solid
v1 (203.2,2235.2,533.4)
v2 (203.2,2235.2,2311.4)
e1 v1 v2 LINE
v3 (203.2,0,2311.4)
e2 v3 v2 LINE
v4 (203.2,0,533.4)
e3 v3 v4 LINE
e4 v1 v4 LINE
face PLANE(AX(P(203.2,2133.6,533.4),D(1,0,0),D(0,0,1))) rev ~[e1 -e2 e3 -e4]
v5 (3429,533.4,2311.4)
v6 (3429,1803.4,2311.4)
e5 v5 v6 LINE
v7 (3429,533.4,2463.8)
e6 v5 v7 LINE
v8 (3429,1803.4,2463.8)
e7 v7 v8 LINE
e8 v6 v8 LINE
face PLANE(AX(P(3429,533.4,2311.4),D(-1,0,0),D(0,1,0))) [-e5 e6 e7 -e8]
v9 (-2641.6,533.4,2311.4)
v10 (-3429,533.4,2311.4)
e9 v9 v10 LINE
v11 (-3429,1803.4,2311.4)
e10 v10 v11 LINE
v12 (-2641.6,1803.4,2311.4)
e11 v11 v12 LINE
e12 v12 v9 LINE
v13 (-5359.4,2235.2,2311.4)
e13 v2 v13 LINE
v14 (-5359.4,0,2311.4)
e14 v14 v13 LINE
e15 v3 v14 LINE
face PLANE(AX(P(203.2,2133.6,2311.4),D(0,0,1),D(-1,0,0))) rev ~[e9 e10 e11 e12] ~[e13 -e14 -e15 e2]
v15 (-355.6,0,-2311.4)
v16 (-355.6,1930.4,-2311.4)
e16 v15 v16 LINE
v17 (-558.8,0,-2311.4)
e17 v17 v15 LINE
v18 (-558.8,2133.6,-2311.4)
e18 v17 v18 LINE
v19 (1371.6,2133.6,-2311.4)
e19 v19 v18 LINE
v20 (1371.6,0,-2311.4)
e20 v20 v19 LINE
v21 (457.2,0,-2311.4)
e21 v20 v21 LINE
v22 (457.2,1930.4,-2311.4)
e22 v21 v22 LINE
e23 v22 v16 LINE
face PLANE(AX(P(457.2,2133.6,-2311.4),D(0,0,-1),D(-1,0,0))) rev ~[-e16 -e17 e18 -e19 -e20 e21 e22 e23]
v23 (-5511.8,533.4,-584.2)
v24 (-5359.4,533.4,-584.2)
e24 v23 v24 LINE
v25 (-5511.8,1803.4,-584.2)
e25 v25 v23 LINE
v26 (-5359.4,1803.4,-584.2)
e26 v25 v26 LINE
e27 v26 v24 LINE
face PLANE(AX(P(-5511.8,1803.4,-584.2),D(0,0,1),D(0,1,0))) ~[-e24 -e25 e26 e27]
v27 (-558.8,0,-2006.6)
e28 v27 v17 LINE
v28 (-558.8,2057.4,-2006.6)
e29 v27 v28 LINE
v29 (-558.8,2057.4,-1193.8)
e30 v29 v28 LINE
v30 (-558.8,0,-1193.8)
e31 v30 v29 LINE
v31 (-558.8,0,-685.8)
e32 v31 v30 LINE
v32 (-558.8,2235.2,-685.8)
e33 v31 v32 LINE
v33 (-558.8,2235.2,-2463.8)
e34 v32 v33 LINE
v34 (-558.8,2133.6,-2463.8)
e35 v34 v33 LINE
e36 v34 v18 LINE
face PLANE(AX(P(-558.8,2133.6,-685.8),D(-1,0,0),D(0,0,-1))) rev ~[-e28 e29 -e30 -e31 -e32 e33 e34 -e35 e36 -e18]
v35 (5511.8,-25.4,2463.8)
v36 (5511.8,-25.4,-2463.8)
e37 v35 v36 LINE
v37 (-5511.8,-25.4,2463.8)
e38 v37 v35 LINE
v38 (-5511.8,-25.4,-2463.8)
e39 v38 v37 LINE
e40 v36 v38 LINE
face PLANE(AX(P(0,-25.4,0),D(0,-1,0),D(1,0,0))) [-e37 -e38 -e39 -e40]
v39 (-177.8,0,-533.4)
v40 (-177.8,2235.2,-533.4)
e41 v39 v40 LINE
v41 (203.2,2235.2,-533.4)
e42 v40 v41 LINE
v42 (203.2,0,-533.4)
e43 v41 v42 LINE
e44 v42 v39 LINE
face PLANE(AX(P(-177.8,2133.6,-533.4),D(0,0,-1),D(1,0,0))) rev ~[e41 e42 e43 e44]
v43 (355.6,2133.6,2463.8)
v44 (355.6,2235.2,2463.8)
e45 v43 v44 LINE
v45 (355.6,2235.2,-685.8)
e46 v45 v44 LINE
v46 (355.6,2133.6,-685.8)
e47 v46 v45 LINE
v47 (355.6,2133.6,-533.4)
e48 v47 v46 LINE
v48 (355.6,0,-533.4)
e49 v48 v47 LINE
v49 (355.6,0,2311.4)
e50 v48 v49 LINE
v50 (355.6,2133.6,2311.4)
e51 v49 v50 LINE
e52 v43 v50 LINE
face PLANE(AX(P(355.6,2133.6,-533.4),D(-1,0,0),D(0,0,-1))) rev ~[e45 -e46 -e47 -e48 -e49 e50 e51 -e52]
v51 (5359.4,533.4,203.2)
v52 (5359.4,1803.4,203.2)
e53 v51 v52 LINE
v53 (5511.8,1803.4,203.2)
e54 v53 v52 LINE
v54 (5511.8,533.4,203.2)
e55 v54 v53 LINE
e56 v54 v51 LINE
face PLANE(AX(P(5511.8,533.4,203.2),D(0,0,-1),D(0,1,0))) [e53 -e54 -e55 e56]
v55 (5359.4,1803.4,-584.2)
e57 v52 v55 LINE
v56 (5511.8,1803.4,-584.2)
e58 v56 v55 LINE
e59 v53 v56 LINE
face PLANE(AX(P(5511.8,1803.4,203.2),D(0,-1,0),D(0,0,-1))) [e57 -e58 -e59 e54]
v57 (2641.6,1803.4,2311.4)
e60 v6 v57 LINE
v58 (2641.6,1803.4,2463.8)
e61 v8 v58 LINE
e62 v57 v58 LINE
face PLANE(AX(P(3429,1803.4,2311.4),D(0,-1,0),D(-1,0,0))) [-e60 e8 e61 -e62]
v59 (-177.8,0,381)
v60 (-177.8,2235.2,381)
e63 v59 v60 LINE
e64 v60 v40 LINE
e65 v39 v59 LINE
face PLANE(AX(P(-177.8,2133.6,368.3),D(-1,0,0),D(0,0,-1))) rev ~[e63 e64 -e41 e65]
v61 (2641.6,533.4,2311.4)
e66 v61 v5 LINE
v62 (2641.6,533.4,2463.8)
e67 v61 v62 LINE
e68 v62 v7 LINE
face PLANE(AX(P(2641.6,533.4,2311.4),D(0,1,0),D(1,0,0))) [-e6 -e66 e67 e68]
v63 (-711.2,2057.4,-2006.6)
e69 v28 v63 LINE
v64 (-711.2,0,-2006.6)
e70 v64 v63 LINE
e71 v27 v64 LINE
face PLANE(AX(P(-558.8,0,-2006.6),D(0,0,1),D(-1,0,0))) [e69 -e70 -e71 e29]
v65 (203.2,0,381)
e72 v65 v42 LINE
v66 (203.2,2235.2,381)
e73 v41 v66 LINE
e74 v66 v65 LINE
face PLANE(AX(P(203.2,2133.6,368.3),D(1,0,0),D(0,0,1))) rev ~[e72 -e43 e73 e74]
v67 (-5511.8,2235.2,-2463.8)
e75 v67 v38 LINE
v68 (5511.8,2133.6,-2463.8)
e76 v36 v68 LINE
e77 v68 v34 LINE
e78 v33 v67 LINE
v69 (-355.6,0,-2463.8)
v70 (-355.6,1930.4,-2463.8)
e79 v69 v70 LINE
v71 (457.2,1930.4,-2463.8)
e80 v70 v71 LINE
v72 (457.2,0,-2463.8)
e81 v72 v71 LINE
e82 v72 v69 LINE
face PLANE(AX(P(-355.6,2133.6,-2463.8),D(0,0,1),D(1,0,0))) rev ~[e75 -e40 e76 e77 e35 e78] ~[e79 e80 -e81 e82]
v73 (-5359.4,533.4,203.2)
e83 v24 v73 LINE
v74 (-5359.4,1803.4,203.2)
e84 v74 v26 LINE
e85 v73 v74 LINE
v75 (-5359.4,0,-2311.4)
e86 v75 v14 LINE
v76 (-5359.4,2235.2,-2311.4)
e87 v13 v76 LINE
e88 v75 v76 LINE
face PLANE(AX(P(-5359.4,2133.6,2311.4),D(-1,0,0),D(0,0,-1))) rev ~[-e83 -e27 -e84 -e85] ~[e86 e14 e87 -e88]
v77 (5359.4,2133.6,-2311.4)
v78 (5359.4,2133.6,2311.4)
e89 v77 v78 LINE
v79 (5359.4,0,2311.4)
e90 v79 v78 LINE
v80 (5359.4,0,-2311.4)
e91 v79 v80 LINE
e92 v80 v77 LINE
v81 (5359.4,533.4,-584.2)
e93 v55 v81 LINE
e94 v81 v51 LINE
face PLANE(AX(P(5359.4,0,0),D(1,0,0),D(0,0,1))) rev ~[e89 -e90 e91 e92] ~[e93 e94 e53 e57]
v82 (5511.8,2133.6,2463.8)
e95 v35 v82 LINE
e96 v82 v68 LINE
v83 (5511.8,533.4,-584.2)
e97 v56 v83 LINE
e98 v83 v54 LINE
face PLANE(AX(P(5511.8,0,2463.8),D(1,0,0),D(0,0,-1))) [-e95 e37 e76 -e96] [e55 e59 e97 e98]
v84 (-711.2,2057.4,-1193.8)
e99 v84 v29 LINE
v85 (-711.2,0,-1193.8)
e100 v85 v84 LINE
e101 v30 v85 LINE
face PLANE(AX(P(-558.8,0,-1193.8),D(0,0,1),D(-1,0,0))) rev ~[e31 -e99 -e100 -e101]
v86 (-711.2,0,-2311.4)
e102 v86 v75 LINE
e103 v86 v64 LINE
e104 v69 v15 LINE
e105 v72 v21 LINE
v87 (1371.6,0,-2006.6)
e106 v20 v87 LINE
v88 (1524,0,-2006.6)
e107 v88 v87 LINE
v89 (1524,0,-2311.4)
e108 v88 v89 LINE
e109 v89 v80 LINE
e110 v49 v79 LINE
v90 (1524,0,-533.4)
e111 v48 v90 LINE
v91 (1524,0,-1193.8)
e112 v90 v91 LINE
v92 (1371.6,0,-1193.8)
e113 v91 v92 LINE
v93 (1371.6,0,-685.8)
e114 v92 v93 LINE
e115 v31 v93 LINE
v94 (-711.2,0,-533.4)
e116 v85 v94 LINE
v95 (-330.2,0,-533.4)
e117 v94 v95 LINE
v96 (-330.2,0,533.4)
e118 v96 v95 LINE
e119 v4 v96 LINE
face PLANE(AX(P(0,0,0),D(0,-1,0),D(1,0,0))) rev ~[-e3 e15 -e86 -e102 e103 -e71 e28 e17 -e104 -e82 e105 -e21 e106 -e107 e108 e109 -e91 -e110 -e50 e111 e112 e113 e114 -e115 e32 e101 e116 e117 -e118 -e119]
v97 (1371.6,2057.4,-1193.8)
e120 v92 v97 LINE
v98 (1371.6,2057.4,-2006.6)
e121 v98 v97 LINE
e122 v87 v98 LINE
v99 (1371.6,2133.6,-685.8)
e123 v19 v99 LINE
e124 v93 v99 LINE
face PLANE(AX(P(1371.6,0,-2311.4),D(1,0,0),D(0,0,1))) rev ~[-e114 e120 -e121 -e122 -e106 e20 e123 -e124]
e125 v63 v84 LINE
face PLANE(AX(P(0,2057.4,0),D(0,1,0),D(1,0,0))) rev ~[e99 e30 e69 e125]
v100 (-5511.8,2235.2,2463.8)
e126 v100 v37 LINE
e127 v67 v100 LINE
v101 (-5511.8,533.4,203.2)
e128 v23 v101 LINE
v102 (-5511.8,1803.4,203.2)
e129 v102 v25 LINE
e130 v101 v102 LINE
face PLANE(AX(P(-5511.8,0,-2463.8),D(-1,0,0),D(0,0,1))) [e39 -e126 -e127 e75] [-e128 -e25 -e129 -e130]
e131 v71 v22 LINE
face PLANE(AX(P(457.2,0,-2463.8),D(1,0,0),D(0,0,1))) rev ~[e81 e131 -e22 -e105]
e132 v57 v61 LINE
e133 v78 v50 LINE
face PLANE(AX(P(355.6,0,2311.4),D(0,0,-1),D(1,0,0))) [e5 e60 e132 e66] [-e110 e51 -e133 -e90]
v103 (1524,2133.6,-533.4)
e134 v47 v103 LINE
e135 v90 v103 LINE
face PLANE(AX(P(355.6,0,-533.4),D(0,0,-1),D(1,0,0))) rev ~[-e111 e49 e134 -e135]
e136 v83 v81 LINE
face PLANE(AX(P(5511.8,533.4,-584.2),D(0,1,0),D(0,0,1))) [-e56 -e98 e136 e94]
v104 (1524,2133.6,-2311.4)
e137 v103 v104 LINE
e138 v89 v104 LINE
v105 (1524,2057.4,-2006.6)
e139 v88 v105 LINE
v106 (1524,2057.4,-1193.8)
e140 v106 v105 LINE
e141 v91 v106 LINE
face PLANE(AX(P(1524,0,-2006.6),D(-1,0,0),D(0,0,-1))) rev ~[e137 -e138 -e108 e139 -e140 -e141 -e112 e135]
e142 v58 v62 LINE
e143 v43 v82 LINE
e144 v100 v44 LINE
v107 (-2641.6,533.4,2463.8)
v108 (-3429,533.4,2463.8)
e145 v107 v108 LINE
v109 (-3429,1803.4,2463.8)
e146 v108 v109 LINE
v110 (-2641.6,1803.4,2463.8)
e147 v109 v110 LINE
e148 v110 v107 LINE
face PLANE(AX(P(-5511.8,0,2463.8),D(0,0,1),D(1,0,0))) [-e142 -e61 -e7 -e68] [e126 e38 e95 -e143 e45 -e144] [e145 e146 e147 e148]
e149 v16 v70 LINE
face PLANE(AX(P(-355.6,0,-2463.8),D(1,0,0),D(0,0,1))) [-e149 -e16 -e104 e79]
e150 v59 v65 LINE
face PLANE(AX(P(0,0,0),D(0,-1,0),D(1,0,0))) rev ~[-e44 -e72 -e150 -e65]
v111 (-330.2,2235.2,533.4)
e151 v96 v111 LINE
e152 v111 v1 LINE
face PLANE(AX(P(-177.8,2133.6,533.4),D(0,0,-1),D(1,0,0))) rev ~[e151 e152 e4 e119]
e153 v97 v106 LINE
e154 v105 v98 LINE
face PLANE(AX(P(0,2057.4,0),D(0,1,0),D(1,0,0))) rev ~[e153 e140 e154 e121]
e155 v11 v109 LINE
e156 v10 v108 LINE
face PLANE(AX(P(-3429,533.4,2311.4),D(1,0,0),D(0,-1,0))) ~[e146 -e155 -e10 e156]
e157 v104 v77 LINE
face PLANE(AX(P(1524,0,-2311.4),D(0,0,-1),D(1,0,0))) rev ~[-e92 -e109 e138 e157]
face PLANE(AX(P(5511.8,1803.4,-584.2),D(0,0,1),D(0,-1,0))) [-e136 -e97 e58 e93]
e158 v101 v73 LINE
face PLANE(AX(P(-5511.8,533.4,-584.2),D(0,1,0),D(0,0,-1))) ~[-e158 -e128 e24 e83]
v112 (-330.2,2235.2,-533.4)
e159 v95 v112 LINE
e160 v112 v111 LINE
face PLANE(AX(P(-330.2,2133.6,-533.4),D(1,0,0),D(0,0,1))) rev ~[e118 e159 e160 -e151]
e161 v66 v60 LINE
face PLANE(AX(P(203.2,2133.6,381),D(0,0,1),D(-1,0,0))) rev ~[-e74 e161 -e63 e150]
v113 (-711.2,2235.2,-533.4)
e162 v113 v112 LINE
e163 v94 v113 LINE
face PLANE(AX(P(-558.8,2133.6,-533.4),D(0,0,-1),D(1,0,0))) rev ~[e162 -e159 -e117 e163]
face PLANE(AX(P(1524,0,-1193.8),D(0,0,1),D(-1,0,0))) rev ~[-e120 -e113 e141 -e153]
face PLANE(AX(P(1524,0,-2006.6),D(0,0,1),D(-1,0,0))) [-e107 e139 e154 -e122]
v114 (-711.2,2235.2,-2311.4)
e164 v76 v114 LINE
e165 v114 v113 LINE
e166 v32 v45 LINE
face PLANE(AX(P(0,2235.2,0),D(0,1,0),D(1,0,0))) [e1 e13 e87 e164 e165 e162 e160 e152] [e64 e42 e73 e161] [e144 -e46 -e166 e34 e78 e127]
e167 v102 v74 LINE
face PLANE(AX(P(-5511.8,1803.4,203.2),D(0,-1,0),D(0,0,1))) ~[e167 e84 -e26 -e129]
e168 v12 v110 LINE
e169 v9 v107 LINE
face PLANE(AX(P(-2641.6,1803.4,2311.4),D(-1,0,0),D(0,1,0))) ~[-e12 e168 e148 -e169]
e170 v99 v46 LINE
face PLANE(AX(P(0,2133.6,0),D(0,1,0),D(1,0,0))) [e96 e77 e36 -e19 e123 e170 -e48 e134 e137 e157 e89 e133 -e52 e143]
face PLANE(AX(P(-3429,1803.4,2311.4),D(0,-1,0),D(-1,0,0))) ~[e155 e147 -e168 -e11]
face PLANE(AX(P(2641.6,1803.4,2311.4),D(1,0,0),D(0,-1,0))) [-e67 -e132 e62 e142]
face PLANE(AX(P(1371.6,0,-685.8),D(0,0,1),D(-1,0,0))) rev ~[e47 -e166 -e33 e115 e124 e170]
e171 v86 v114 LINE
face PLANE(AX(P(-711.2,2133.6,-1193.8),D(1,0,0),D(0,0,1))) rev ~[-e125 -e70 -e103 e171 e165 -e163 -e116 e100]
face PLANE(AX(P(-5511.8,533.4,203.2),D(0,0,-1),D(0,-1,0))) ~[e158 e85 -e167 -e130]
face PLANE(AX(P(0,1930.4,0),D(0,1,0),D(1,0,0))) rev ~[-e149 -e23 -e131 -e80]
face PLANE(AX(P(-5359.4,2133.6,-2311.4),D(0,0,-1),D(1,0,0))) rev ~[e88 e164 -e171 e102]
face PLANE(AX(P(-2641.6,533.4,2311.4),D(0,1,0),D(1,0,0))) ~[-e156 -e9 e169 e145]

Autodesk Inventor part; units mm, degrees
ref_plane "YZ Plane" through (0, 0, 0) normal (1, 0, 0) x (0, 1, 0)
ref_plane "XZ Plane" through (0, 0, 0) normal (0, 1, 0) x (-1, 0, 0)
ref_plane "XY Plane" through (0, 0, 0) normal (0, 0, 1) x (1, 0, 0)
sketch "Sketch1" plane through (0, 0, 0) normal (0, 1, 0) x (-1, 0, 0)
  line L0 (2008.4767, 2311.4) -> (5359.4, 2311.4)
  line L1 (-5511.8, 2463.8) -> (1195.6767, 2463.8)
  line L2 (2008.4767, 2463.8) -> (5511.8, 2463.8)
  line L3 (5359.4, 2311.4) -> (5359.4, -2311.4)
  line L4 (128.8767, 2311.4) -> (1195.6767, 2311.4)
  line L5 (2008.4767, 2311.4) -> (5359.4, 2311.4)
  line L6 (-5359.4, 2311.4) -> (-1041.4, 2311.4)
  line L7 (-5359.4, -2311.4) -> (-5359.4, 2311.4)
  line L8 (-988.7233, -2463.8) -> (-5306.7233, -2463.8)
  line L9 (5359.4, -2311.4) -> (1955.8, -2311.4)
  line L10 (355.6, -2463.8) -> (1143, -2463.8)
  line L11 (1955.8, -2463.8) -> (5359.4, -2463.8)
  line L12 (5359.4, 2311.4) -> (5359.4, -2311.4)
  line L13 (-5359.4, -2311.4) -> (-5359.4, 2311.4)
  line L14 (128.8767, 2311.4) -> (1195.6767, 2311.4)
  line L15 (-5359.4, 2311.4) -> (-1041.4, 2311.4)
  line L16 (1955.8, -2311.4) -> (5359.4, -2311.4)
  line L17 (5359.4, -2311.4) -> (5359.4, 2311.4)
  line L18 (5359.4, 2311.4) -> (2008.4767, 2311.4)
  line L19 (2008.4767, 2463.8) -> (5511.8, 2463.8)
  line L20 (-457.2, -2463.8) -> (-457.2, -2311.4)
  line L21 (355.6, -2463.8) -> (355.6, -2311.4)
  line L22 (-7716.52, 0) -> (7716.52, 0) projected
  line L23 (-5511.8, 2463.8) -> (-5511.8, -2463.8)
  line L24 (-5306.7233, -2463.8) -> (-5511.8, -2463.8)
  line L25 (5511.8, 2463.8) -> (5511.8, -2463.8)
  line L26 (5511.8, -2463.8) -> (5359.4, -2463.8)
  line L27 (-988.7233, -2463.8) -> (-457.2, -2463.8)
  line L28 (-1371.6, -685.8) -> (558.8, -685.8)
  line L29 (558.8, -2311.4) -> (355.6, -2311.4)
  line L30 (-457.2, -2311.4) -> (-1371.6, -2311.4)
  line L31 (-1371.6, -2311.4) -> (-457.2, -2311.4)
  line L32 (355.6, -2311.4) -> (558.8, -2311.4)
  line L33 (-355.6, -533.4) -> (-355.6, 2311.4)
  line L34 (1143, -2311.4) -> (1955.8, -2311.4)
  line L35 (1955.8, -2463.8) -> (1143, -2463.8)
  line L36 (0, -3449.32) -> (0, 3449.32) projected
  line L37 (1195.6767, 2463.8) -> (2008.4767, 2463.8)
  line L38 (2008.4767, 2311.4) -> (1195.6767, 2311.4)
  line L39 (355.6, -2463.8) -> (5511.8, -2463.8)
  line L40 (1143, -2311.4) -> (711.2, -2311.4)
  line L41 (558.8, -2311.4) -> (355.6, -2311.4)
  line L42 (-1041.4, -2311.4) -> (-1371.6, -2311.4)
  line L43 (-1524, -2311.4) -> (-5359.4, -2311.4)
  line L44 (-203.2, 533.4) -> (330.2, 533.4)
  line L45 (330.2, 533.4) -> (330.2, -533.4)
  line L46 (-1524, -2006.6) -> (-1371.6, -2006.6)
  line L47 (-1524, -1193.8) -> (-1371.6, -1193.8)
  line L48 (558.8, -1193.8) -> (711.2, -1193.8)
  line L49 (558.8, -2006.6) -> (711.2, -2006.6)
  line L50 (-1371.6, -2311.4) -> (-1371.6, -2006.6)
  line L51 (-1371.6, -1193.8) -> (-1371.6, -685.8)
  line L52 (-1524, -533.4) -> (-1524, -1193.8)
  line L53 (-1524, -2006.6) -> (-1524, -2311.4)
  line L54 (558.8, -685.8) -> (558.8, -1193.8)
  line L55 (558.8, -2006.6) -> (558.8, -2311.4)
  line L56 (711.2, -2311.4) -> (711.2, -2006.6)
  line L57 (711.2, -1193.8) -> (711.2, -533.4)
  line L58 (-203.2, -533.4) -> (177.8, -533.4)
  line L59 (177.8, -533.4) -> (177.8, 381)
  line L60 (177.8, 381) -> (-203.2, 381)
  line L61 (-203.2, 381) -> (-203.2, -533.4)
  line L62 (1195.6767, 2311.4) -> (-203.2, 2311.4)
  line L63 (-355.6, 2311.4) -> (-5359.4, 2311.4)
  line L64 (-23.5233, 2311.4) -> (-203.2, 2311.4)
  line L65 (-355.6, 2311.4) -> (-889, 2311.4)
  line L66 (-889, 2311.4) -> (-355.6, 2311.4)
  line L67 (-203.2, 2311.4) -> (-23.5233, 2311.4)
  line L68 (-203.2, 2311.4) -> (-203.2, 533.4)
  line L69 (-203.2, 381) -> (-203.2, -533.4)
  line L70 (711.2, -533.4) -> (330.2, -533.4)
  line L71 (177.8, -533.4) -> (-203.2, -533.4)
  line L72 (-355.6, -533.4) -> (-1524, -533.4)
  point P0 (0, 0)
  point P1 (0, 0)
  dimension "d0" = 152.4
  dimension "d8" = 152.4
  dimension "d12" = 11023.6
  dimension "d14" = 152.4
  dimension "d15" = 152.4
  dimension "d23" = 5054.6
  dimension "d29" = 4927.6
  dimension "d30" = 152.4
  dimension "d32" = 5029.2
  dimension "d33" = 304.8
  dimension "d34" = 1117.6
  dimension "d35" = 304.8
  dimension "d36" = 1117.6
  dimension "d37" = 152.4
  dimension "d38" = 3835.4
  dimension "d40" = 152.4
  dimension "d41" = 812.8
  dimension "d42" = 4648.2
  dimension "d73" = 152.4
  dimension "d74" = 152.4
  dimension "d75" = 152.4
  dimension "d77" = 2844.8
  dimension "d78" = 152.4
  dimension "d79" = 5562.6
  dimension "d80" = 1778
extrude "Extrusion12" add sketch "Sketch1" along normal blind 2133.6 contours L38 L4 L62 L36 L1 L37 L2 L25 L22 L3 L0 | L22 L25 L26 L11 L35 L10 L21 L29 L55 L49 L56 L40 L34 L9 L3 | L45 L70 L57 L48 L54 L28 L36 L58 L59 L22 | L22 L59 L60 L36 L44 L45 | L62 L68 L44 L36 L60 L61 L22 L33 L63 L6 L7 L23 L1 | L61 L58 L36 L28 L51 L47 L52 L72 L33 L22 | L22 L7 L43 L53 L46 L50 L30 L20 L27 L8 L24 L23
sketch "Sketch10" plane through (0, 0, 0) normal (0, -1, 0) x (1, 0, 0)
  line L0 (-5511.8, 2463.8) -> (5511.8, 2463.8)
  line L1 (5511.8, 2463.8) -> (5511.8, -2463.8)
  line L2 (5511.8, -2463.8) -> (-5511.8, -2463.8)
  line L3 (-5511.8, -2463.8) -> (-5511.8, 2463.8)
  point P0 (0, 0)
extrude "Extrusion13" add sketch "Sketch10" along normal blind 25.4
sketch "Sketch11" plane through (0, 2133.6, 0) normal (0, 1, 0) x (1, 0, 0)
  line L0 (1371.6, 685.8) -> (-558.8, 685.8) projected
  line L1 (-355.6, 2463.8) -> (-5511.8, 2463.8) projected
  line L2 (355.6, 533.4) -> (355.6, 685.8)
  line L3 (-558.8, 2463.8) -> (-558.8, 2311.4)
  line L4 (-558.8, 2006.6) -> (-711.2, 2006.6)
  line L5 (-711.2, 2006.6) -> (-711.2, 1193.8)
  line L6 (-711.2, 1193.8) -> (-558.8, 1193.8)
  line L7 (-558.8, 1193.8) -> (-558.8, 2006.6)
  line L8 (1371.6, 1193.8) -> (1524, 1193.8)
  line L9 (1524, 1193.8) -> (1524, 2006.6)
  line L10 (1524, 2006.6) -> (1371.6, 2006.6)
  line L11 (1371.6, 2006.6) -> (1371.6, 1193.8)
  line L12 (-5511.8, -2463.8) -> (5511.8, -2463.8) projected
  line L13 (355.6, -2311.4) -> (355.6, -2463.8)
  line L14 (203.2, 533.4) -> (203.2, -381) projected
  line L15 (203.2, -381) -> (-177.8, -381) projected
  line L16 (-177.8, -381) -> (-177.8, 533.4) projected
  line L17 (-177.8, 533.4) -> (203.2, 533.4) projected
  line L18 (-5511.8, -2463.8) -> (5511.8, -2463.8) projected
  line L19 (5511.8, -2463.8) -> (5511.8, 2463.8) projected
  line L20 (5511.8, 2463.8) -> (457.2, 2463.8) projected
  line L21 (457.2, 2463.8) -> (457.2, 2311.4) projected
  line L22 (457.2, 2311.4) -> (1371.6, 2311.4) projected
  line L23 (1371.6, 2311.4) -> (1371.6, 2006.6) projected
  line L24 (1371.6, 2006.6) -> (1524, 2006.6) projected
  line L25 (1524, 2006.6) -> (1524, 2311.4) projected
  line L26 (1524, 2311.4) -> (5359.4, 2311.4) projected
  line L27 (5359.4, 2311.4) -> (5359.4, -2311.4) projected
  line L28 (5359.4, -2311.4) -> (355.6, -2311.4) projected
  line L29 (355.6, -2311.4) -> (355.6, 533.4) projected
  line L30 (355.6, 533.4) -> (1524, 533.4) projected
  line L31 (1524, 533.4) -> (1524, 1193.8) projected
  line L32 (1524, 1193.8) -> (1371.6, 1193.8) projected
  line L33 (1371.6, 1193.8) -> (1371.6, 685.8) projected
  line L34 (1371.6, 685.8) -> (-558.8, 685.8) projected
  line L35 (-558.8, 685.8) -> (-558.8, 1193.8) projected
  line L36 (-558.8, 1193.8) -> (-711.2, 1193.8) projected
  line L37 (-711.2, 1193.8) -> (-711.2, 533.4) projected
  line L38 (-711.2, 533.4) -> (-330.2, 533.4) projected
  line L39 (-330.2, 533.4) -> (-330.2, -533.4) projected
  line L40 (-330.2, -533.4) -> (203.2, -533.4) projected
  line L41 (203.2, -533.4) -> (203.2, -2311.4) projected
  line L42 (203.2, -2311.4) -> (-5359.4, -2311.4) projected
  line L43 (-5359.4, -2311.4) -> (-5359.4, 2311.4) projected
  line L44 (-5359.4, 2311.4) -> (-711.2, 2311.4) projected
  line L45 (-711.2, 2311.4) -> (-711.2, 2006.6) projected
  line L46 (-711.2, 2006.6) -> (-558.8, 2006.6) projected
  line L47 (-558.8, 2006.6) -> (-558.8, 2311.4) projected
  line L48 (-355.6, 2311.4) -> (-355.6, 2463.8) projected
  line L49 (-355.6, 2463.8) -> (-5511.8, 2463.8) projected
  line L50 (-5511.8, 2463.8) -> (-5511.8, -2463.8) projected
  line L51 (-558.8, 2006.6) -> (-558.8, 2463.8)
  line L52 (355.6, 685.8) -> (355.6, -2463.8)
  line L53 (355.6, 685.8) -> (-558.8, 685.8)
  line L54 (-558.8, 685.8) -> (-558.8, 2463.8)
  line L55 (-330.2, 533.4) -> (-330.2, -533.4) projected
  line L56 (-558.8, 2463.8) -> (-711.2, 2463.8)
  line L57 (-711.2, 2463.8) -> (-711.2, 533.4)
  line L58 (-711.2, 533.4) -> (-558.8, 533.4)
  line L59 (-558.8, 533.4) -> (-558.8, 2463.8)
  line L60 (-558.8, 533.4) -> (355.6, 533.4)
  line L61 (355.6, 533.4) -> (355.6, 685.8)
  line L62 (355.6, 685.8) -> (-558.8, 685.8)
  line L63 (-558.8, 685.8) -> (-558.8, 533.4)
  line L64 (355.6, 685.8) -> (203.2, 685.8)
  line L65 (203.2, 685.8) -> (203.2, -2463.8)
  line L66 (203.2, -2463.8) -> (355.6, -2463.8)
  line L67 (355.6, -2463.8) -> (355.6, 685.8)
  line L68 (203.2, -533.4) -> (-330.2, -533.4)
  line L69 (-330.2, -533.4) -> (-330.2, -368.3)
  line L70 (-330.2, -368.3) -> (203.2, -368.3)
  line L71 (203.2, -368.3) -> (203.2, -533.4)
  line L72 (-330.2, 533.4) -> (-177.8, 533.4)
  line L73 (-177.8, 533.4) -> (-177.8, -533.4)
  line L74 (-177.8, -533.4) -> (-330.2, -533.4)
  line L75 (-330.2, -533.4) -> (-330.2, 533.4)
  line L76 (-558.8, 2311.4) -> (-5511.8, 2311.4)
  line L77 (-5511.8, 2311.4) -> (-5511.8, 2463.8)
  line L78 (-5511.8, 2463.8) -> (-558.8, 2463.8)
  line L79 (-558.8, 2463.8) -> (-558.8, 2311.4)
  line L80 (-558.8, 2311.4) -> (-355.6, 2311.4) projected
  line L81 (-355.6, 2463.8) -> (457.2, 2463.8)
  line L82 (457.2, 2463.8) -> (457.2, 2311.4)
  line L83 (457.2, 2311.4) -> (-355.6, 2311.4)
  line L84 (-355.6, 2311.4) -> (-355.6, 2463.8)
  point P0 (0, 2298.7)
  point P1 (0, 2451.1)
  point P2 (0, 0)
extrude "Extrusion15" add sketch "Sketch11" against normal blind 76.2 contours L11 L10 L9 L8 | L6 L5 L4 L7
extrude "Extrusion16" add sketch "Sketch11" along normal blind 101.6 contours L2 L60 L65 L0 | L65 L17 L60 L38 L59 L0 | L29 L13 L12 L65 L41 L14 L60 | L59 L38 L37 L6 L35 | L6 L5 L4 L7 | L16 L70 L39 L60 | L4 L45 L76 L47 | L65 L40 L73 L15 | L16 L73 L40 L39 L70 | L12 L50 L76 L43 L42 L65 | L76 L57 L1 L3 | L44 L76 L50 L1 L57
extrude "Extrusion17" add sketch "Sketch11" along normal blind 101.6 contours L2 L60 L65 L0 | L65 L17 L60 L38 L59 L0
sketch "Sketch12" plane through (5511.8, 2133.6, 2463.8) normal (1, 0, 0) x (0, 0, -1)
  line L0 (4927.6, -2159) -> (4927.6, 0) projected
  line L1 (0, 0) -> (4927.6, 0) projected
  line L2 (4775.2, -2133.6) -> (152.4, -2133.6) projected
  line L3 (4775.2, -2133.6) -> (152.4, -2133.6) projected
  line L4 (152.4, -2133.6) -> (152.4, 0) projected
  line L5 (4775.2, 0) -> (152.4, 0) projected
  line L6 (4775.2, -2133.6) -> (4775.2, 0) projected
  line L7 (2260.6, -330.2) -> (3048, -330.2)
  line L8 (3048, -330.2) -> (3048, -1600.2)
  line L9 (3048, -1600.2) -> (2260.6, -1600.2)
  line L10 (2260.6, -1600.2) -> (2260.6, -330.2)
  point P0 (2463.8, -2133.6)
  dimension "d93" = 1879.6
  dimension "d94" = 787.4
  dimension "d95" = 330.2
  dimension "d96" = 533.4
extrude "Extrusion18" cut sketch "Sketch12" against normal up to surface (152.4 mm away) contours L7 L8 L9 L10
sketch "Sketch13" plane through (5359.4, 2133.6, 2311.4) normal (0, 0, -1) x (-1, 0, 0)
  line L0 (0, -2133.6) -> (5003.8, -2133.6) projected
  line L1 (0, 0) -> (5003.8, 0) projected
  line L2 (-152.4, -2159) -> (-152.4, 0) projected
  line L3 (5003.8, 0) -> (-152.4, 0) projected
  line L4 (5003.8, 0) -> (5003.8, 101.6) projected
  line L5 (10871.2, 101.6) -> (5003.8, 101.6) projected
  line L6 (10871.2, 101.6) -> (10871.2, -2159) projected
  line L7 (-152.4, -2159) -> (10871.2, -2159) projected
  line L8 (1930.4, -330.2) -> (2717.8, -330.2)
  line L9 (2717.8, -330.2) -> (2717.8, -1600.2)
  line L10 (2717.8, -1600.2) -> (1930.4, -1600.2)
  line L11 (1930.4, -1600.2) -> (1930.4, -330.2)
  point P0 (5359.4, -2133.6)
  dimension "d99" = 2082.8
  dimension "d100" = 787.4
  dimension "d101" = 330.2
  dimension "d102" = 533.4
extrude "Extrusion19" cut sketch "Sketch13" against normal up to surface (152.4 mm away) contours L8 L9 L10 L11
mirror "Mirror3" about plane through (0, 0, 0) normal (1, 0, 0) of "Extrusion18", "Extrusion19"
extrude "Extrusion20" add sketch "Sketch11" against normal blind 203.2 contours L83 L48 L81 L21
properties part number "489 Forest 2nd Floor"
